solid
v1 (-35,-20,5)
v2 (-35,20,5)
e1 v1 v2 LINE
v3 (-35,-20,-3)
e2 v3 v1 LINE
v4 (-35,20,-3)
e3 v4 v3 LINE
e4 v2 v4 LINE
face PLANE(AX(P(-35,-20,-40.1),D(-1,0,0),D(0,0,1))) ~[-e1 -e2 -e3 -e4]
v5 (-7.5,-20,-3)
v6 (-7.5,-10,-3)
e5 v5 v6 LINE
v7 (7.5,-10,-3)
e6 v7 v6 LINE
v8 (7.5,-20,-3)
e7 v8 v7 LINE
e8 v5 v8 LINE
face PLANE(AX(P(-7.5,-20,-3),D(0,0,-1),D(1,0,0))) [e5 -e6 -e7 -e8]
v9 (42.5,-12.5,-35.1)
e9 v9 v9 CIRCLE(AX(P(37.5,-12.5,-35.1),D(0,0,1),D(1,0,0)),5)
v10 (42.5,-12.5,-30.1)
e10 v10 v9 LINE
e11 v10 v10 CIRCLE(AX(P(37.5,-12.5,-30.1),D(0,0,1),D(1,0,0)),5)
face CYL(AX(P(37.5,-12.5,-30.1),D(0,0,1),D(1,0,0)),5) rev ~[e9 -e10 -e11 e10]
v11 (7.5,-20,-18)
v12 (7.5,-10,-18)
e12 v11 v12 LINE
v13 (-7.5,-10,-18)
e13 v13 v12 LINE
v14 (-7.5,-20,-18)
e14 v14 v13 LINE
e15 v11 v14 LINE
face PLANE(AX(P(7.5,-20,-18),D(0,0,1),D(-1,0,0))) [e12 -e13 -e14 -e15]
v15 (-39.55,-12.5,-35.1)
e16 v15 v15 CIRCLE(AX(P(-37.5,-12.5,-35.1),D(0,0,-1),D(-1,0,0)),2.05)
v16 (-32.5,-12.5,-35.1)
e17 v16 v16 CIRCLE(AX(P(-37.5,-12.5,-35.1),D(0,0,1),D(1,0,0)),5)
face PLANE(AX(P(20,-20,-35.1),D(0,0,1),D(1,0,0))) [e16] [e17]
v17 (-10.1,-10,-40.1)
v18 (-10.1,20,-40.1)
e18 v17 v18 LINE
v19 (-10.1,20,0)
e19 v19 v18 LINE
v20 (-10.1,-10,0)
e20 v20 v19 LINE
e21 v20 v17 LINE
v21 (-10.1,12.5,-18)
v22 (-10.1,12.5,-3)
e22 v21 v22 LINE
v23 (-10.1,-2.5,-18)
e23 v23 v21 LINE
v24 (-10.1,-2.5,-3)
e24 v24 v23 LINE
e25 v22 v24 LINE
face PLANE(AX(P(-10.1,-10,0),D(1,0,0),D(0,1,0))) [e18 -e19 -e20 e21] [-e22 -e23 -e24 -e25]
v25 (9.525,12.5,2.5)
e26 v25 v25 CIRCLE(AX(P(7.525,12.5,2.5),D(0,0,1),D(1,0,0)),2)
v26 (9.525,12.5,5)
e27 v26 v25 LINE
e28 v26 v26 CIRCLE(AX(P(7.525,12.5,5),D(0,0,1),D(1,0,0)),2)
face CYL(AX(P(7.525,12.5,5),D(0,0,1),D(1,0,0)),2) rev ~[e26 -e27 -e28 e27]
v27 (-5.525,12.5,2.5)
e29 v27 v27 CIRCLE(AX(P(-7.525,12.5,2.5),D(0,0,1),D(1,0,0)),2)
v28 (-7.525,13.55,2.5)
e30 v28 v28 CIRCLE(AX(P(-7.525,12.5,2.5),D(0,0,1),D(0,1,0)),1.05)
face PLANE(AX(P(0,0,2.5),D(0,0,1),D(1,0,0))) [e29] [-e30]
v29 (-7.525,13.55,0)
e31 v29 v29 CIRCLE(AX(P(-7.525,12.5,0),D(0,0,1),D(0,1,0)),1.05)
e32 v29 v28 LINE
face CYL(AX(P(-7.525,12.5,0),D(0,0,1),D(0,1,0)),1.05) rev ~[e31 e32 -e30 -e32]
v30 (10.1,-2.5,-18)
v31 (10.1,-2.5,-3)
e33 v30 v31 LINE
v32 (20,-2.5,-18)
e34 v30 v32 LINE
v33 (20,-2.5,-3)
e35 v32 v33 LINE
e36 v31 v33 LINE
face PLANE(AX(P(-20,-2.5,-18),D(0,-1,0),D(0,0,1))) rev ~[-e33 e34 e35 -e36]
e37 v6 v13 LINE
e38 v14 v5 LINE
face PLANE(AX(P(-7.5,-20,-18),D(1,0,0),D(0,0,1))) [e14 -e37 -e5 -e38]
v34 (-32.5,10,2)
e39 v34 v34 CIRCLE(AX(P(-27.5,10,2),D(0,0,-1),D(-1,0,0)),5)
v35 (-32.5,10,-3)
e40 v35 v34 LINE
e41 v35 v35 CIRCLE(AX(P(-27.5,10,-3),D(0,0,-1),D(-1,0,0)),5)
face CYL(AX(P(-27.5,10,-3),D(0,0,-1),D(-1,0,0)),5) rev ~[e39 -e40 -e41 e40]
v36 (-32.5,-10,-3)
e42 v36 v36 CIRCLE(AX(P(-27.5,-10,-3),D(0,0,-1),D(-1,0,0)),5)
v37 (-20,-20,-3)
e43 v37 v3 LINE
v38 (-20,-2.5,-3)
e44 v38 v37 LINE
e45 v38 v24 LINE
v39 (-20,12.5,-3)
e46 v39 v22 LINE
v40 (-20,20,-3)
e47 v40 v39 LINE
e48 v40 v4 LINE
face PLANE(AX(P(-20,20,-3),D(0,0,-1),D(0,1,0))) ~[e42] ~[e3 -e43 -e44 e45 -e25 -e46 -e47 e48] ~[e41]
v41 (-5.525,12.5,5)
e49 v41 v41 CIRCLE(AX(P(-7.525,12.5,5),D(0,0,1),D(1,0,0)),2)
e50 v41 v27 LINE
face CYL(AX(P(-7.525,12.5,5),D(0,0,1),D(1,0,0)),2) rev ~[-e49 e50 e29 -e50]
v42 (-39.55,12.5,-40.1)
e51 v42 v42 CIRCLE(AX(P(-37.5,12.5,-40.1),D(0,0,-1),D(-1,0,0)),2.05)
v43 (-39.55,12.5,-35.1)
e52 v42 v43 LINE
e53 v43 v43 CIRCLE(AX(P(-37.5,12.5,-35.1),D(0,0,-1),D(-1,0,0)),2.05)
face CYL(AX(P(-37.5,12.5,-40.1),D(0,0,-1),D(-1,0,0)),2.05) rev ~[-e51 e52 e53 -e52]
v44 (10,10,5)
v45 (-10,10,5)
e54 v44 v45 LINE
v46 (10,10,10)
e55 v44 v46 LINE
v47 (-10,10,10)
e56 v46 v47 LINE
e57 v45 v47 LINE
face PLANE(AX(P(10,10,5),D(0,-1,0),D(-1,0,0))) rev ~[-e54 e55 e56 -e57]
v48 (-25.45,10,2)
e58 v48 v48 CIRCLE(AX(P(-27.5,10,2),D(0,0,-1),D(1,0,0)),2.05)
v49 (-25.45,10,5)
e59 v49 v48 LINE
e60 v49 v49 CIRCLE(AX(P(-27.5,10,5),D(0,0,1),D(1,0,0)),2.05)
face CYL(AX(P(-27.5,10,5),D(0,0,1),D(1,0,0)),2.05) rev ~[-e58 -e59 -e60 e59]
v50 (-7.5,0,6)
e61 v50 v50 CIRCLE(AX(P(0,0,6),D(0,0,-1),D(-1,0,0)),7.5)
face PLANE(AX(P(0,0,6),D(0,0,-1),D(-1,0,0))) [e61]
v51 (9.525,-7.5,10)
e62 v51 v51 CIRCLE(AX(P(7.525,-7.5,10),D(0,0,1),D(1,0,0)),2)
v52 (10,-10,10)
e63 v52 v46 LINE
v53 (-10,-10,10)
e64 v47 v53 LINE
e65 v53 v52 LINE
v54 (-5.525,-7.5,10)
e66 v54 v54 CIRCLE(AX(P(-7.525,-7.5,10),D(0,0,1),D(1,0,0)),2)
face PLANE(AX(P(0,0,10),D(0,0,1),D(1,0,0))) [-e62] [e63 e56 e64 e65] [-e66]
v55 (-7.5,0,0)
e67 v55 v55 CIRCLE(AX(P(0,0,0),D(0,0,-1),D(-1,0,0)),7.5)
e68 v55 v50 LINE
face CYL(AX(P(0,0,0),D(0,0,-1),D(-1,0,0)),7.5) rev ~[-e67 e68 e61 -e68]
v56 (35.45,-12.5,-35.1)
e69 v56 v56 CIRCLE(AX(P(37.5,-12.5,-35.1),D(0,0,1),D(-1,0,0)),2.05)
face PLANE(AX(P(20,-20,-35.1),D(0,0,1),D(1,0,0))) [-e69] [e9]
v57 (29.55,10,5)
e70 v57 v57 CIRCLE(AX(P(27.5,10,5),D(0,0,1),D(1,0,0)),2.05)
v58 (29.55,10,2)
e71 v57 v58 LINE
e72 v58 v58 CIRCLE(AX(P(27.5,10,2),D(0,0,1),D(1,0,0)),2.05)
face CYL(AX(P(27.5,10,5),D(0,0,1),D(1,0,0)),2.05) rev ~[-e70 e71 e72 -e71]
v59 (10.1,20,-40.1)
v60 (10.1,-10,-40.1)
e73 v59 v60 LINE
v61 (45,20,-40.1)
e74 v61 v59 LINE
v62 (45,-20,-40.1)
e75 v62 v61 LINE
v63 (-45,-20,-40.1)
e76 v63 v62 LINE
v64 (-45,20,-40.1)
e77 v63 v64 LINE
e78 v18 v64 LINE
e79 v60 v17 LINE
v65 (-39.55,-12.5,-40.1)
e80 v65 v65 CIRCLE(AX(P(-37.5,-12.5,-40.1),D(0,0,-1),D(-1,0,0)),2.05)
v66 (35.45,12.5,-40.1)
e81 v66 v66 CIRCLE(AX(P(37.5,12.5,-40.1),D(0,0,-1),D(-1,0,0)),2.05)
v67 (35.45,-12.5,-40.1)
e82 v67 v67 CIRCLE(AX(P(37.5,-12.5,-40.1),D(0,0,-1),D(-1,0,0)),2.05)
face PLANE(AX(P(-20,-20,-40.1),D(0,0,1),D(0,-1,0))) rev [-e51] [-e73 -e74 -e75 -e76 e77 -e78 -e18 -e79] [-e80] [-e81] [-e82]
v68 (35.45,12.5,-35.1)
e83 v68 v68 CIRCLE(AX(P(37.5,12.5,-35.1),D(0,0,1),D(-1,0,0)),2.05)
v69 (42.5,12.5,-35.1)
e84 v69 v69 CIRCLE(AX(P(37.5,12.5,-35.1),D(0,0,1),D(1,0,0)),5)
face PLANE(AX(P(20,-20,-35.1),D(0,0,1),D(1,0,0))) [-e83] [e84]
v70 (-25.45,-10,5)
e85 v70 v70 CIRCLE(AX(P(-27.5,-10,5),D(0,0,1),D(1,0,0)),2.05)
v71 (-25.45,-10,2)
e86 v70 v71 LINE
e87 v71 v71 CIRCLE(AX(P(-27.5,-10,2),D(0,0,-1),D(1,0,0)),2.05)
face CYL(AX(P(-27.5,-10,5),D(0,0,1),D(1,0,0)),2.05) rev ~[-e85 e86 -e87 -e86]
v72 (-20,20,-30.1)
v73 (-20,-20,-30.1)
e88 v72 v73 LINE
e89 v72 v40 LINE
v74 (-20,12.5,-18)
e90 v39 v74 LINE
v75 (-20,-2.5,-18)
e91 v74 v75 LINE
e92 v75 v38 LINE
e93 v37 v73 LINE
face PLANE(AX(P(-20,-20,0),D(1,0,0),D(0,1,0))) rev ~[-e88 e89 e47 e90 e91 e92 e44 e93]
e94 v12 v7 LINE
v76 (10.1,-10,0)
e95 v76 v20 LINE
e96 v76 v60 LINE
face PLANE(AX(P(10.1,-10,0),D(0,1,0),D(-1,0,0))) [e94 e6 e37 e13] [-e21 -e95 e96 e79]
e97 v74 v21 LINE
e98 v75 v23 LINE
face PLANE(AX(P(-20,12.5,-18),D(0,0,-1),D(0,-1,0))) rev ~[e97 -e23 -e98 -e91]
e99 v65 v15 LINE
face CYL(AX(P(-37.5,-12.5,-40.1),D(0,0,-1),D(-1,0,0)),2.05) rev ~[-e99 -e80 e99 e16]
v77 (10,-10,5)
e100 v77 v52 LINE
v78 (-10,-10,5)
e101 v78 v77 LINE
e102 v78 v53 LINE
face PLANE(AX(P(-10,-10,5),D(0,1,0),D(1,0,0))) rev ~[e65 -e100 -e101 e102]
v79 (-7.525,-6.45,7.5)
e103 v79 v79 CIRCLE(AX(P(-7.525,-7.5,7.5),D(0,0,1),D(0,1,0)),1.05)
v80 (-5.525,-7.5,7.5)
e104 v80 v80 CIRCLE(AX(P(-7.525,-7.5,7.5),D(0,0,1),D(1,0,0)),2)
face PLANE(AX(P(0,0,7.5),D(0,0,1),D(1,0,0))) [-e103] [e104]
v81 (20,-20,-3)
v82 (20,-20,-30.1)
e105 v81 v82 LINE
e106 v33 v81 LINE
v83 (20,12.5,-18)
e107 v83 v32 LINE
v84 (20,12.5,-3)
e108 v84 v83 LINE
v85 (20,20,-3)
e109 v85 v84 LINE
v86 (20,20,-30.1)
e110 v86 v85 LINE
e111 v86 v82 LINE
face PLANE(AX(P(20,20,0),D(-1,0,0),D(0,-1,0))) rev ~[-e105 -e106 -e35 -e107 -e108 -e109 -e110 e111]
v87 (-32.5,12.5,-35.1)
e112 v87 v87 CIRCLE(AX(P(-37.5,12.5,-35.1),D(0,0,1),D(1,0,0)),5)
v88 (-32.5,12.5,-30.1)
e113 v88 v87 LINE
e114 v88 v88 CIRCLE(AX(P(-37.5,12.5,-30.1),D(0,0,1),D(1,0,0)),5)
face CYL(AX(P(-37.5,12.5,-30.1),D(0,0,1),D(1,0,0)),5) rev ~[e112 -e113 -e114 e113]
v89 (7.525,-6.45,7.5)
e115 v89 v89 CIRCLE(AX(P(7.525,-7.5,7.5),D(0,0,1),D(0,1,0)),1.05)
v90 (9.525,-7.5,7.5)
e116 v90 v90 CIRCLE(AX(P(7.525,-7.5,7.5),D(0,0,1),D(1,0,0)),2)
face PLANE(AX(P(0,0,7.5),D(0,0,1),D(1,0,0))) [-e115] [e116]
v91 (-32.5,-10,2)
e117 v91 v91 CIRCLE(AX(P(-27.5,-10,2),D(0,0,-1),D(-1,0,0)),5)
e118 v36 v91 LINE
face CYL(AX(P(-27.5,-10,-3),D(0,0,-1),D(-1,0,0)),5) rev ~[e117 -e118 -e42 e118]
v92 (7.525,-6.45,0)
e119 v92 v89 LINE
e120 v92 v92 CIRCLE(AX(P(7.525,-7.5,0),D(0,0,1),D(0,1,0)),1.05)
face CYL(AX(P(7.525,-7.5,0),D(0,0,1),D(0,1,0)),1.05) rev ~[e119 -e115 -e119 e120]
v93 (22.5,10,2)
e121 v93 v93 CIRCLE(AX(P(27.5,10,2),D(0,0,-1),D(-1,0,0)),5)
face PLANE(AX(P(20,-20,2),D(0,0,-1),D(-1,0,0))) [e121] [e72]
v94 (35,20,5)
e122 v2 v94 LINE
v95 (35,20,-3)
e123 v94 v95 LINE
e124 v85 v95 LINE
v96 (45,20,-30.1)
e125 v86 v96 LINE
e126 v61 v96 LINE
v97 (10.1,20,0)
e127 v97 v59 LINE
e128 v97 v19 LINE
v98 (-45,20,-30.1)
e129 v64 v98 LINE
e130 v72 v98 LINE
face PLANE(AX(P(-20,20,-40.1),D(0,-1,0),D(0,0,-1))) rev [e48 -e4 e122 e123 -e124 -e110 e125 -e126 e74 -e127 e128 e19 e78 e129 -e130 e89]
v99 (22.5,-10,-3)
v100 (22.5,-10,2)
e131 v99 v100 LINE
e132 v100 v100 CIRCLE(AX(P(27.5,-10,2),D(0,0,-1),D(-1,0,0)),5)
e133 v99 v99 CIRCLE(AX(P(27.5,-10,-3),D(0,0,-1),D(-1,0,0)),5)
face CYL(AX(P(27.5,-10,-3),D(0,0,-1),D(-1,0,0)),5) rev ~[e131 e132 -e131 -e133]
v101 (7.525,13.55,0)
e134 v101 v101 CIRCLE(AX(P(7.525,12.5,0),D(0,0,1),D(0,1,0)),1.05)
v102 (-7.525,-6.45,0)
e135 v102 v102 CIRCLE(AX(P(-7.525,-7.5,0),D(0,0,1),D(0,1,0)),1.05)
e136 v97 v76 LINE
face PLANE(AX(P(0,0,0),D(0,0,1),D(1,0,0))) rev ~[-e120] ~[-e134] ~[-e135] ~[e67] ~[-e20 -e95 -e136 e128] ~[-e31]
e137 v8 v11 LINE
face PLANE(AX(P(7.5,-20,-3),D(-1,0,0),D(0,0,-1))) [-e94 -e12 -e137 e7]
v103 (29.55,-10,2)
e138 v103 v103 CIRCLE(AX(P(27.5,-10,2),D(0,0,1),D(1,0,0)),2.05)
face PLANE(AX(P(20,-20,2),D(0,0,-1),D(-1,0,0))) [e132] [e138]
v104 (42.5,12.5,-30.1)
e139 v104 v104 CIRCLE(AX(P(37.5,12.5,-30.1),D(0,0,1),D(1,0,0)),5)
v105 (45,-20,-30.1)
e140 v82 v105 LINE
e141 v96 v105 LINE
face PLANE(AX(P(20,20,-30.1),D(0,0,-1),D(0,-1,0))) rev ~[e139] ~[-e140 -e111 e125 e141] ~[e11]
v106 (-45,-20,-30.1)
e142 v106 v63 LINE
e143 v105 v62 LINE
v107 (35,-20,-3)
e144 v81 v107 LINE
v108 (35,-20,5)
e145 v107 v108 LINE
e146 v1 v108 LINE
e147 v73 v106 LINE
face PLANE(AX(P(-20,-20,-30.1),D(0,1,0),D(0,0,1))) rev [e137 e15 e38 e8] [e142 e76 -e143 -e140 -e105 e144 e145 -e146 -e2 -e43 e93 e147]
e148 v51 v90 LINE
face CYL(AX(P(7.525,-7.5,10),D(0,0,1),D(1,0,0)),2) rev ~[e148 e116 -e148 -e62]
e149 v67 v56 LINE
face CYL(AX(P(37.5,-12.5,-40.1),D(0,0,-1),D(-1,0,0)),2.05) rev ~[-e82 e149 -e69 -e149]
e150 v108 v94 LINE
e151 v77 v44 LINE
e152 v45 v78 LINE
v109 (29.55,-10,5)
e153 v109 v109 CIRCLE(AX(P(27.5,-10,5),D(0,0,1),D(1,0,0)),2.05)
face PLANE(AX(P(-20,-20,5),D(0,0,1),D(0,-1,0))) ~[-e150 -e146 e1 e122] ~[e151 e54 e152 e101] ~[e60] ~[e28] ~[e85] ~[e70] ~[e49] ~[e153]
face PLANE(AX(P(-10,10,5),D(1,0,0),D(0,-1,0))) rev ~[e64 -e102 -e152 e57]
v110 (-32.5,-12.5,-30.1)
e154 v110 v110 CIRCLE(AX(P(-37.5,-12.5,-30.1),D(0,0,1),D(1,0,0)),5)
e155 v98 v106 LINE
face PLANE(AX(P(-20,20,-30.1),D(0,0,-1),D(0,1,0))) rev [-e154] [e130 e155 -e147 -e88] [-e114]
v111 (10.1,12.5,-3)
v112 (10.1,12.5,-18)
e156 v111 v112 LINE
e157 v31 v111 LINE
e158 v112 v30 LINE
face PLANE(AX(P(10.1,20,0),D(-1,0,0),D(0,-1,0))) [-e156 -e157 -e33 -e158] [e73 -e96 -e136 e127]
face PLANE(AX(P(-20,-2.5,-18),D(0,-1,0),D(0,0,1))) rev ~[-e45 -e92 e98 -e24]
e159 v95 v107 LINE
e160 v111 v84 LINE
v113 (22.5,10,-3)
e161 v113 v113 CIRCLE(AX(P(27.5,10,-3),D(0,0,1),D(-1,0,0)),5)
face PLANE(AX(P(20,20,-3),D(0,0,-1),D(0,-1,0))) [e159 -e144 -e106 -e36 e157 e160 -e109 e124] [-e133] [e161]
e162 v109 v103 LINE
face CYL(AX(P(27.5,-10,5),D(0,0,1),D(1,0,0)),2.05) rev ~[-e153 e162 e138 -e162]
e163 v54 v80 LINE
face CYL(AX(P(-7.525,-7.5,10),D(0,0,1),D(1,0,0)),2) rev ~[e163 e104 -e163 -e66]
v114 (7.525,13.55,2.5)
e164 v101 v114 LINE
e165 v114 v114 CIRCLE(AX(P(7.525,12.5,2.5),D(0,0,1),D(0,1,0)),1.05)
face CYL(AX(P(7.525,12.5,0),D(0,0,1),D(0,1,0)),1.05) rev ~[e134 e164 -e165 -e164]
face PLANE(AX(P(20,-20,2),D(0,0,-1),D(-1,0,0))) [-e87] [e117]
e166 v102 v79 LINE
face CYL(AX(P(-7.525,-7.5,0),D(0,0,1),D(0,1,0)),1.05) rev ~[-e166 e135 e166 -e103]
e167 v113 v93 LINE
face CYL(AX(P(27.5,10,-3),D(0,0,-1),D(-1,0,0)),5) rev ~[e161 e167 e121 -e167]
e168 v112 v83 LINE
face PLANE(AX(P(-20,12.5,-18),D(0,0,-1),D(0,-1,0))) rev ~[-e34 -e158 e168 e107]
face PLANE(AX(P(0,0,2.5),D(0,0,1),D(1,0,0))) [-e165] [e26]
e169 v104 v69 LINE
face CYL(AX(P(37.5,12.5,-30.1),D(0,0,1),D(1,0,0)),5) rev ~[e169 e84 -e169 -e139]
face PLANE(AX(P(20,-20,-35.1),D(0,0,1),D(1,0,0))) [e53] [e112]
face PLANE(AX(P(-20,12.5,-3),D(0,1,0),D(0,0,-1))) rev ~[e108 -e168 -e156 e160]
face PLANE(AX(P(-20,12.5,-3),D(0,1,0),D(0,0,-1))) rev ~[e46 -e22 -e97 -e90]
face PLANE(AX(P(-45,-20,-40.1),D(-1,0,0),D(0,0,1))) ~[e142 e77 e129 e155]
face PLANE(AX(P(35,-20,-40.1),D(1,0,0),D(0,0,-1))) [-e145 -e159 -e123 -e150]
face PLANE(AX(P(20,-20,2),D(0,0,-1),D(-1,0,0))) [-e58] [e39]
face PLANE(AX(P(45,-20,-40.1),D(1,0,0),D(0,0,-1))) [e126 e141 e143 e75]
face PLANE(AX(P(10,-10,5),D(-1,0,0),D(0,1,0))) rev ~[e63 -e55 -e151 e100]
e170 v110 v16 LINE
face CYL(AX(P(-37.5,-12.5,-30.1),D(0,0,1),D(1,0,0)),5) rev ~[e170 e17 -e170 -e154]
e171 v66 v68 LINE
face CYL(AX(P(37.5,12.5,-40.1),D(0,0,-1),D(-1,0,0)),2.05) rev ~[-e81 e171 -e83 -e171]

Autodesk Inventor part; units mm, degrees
ref_plane "YZ Plane" through (0, 0, 0) normal (1, 0, 0) x (0, 1, 0)
ref_plane "XZ Plane" through (0, 0, 0) normal (0, 1, 0) x (-1, 0, 0)
ref_plane "XY Plane" through (0, 0, 0) normal (0, 0, 1) x (1, 0, 0)
sketch "Sketch1" plane through (0, 0, 0) normal (0, 0, 1) x (1, 0, 0)
  line L0 (-20, -20) -> (20, -20)
  line L1 (20, -20) -> (20, 20)
  line L2 (20, 20) -> (-20, 20)
  line L3 (-20, 20) -> (-20, -20)
  line L4 (-20, -20) -> (20, 20) construction
  line L5 (20, -20) -> (-20, 20) construction
  point P0 (0, 0)
  dimension "d0" = 40
  dimension "d1" = 40
extrude "Extrusion1" add sketch "Sketch1" along normal blind 5
sketch "Sketch2" plane through (0, 0, 5) normal (0, 0, 1) x (1, 0, 0)
  line L0 (-10, -10) -> (10, -10)
  line L1 (10, -10) -> (10, 10)
  line L2 (10, 10) -> (-10, 10)
  line L3 (-10, 10) -> (-10, -10)
  line L4 (-10, -10) -> (10, 10) construction
  line L5 (10, -10) -> (-10, 10) construction
  point P0 (0, 0)
  dimension "d4" = 20
  dimension "d5" = 20
extrude "Extrusion2" add sketch "Sketch2" along normal blind 5
sketch "Sketch3" plane through (0, 0, 0) normal (0, 0, -1) x (-1, 0, 0)
  line L0 (-20, -20) -> (20, -20)
  line L1 (20, -20) -> (20, 20)
  line L2 (20, 20) -> (-20, 20)
  line L3 (-20, 20) -> (-20, -20)
  line L4 (-20, -20) -> (20, 20) construction
  line L5 (20, -20) -> (-20, 20) construction
  line L6 (-10.1, -10) -> (10.1, -10)
  line L7 (10.1, -10) -> (10.1, 20)
  line L8 (10.1, 20) -> (-10.1, 20)
  line L9 (-10.1, 20) -> (-10.1, -10)
  line L10 (-10.1, -10) -> (10.1, 20) construction
  line L11 (10.1, -10) -> (-10.1, 20) construction
  point P0 (0, 0)
  point P1 (0, 5)
  dimension "d8" = 40
  dimension "d9" = 40
  dimension "d10" = 20.2
  dimension "d11" = 30
  dimension "d55" = 20
extrude "Extrusion3" add sketch "Sketch3" along normal blind 40.1 contours L3 L2 L9 L6 L7 L1 L0
sketch "Sketch4" plane through (0, 0, 0) normal (0, 0, -1) x (-1, 0, 0)
  circle A0 centre (0, 0) radius 7.5
  dimension "d14" = 15
extrude "Extrusion4" cut sketch "Sketch4" against normal blind 6
sketch "Sketch6" plane through (20, -20, -40.1) normal (1, 0, 0) x (0, 0, -1)
  line L0 (-45.1, 40) -> (-37.1, 40)
  line L1 (-37.1, 40) -> (-37.1, 0)
  line L2 (-37.1, 0) -> (-45.1, 0)
  line L3 (-45.1, 0) -> (-45.1, 40)
  line L4 (-45.1, 40) -> (-37.1, 0) construction
  line L5 (-37.1, 40) -> (-45.1, 0) construction
  line L6 (0, 40) -> (-45.1, 40) projected
  line L7 (-45.1, 0) -> (0, 0) projected
  line L8 (-45.1, 0) -> (-45.1, 40) projected
  point P0 (-40.1, 20)
  point P1 (-41.1, 20)
  point P2 (-40.1, 40)
  point P3 (-45.1, 50)
  dimension "d19" = 8
extrude "Extrusion6" add sketch "Sketch6" along normal blind 15
mirror "Mirror1" about plane through (0, 0, 0) normal (1, 0, 0) of "Extrusion6"
sketch "Sketch7" plane through (0, 0, 5) normal (0, 0, 1) x (1, 0, 0)
  circle A0 centre (27.5, 10) radius 2.05
  circle A1 centre (27.5, -10) radius 2.05
  circle A2 centre (-27.5, -10) radius 2.05
  circle A3 centre (-27.5, 10) radius 2.05
  line L0 (35, 20) -> (35, -20) projected
  line L1 (-35, 20) -> (-35, -20) projected
  line L2 (35, -20) -> (-35, -20) projected
  line L3 (-35, 20) -> (35, 20) projected
  line L4 (-20, 20) -> (-35, 20) projected
  point P0 (0, 0)
  point P1 (20, 20)
  dimension "d22" = 4.1
  dimension "d23" = 4.1
  dimension "d24" = 4.1
  dimension "d25" = 4.1
  dimension "d26" = 7.5
  dimension "d27" = 7.5
  dimension "d28" = 7.5
  dimension "d29" = 7.5
  dimension "d30" = 10
  dimension "d31" = 10
  dimension "d32" = 10
  dimension "d33" = 10
extrude "Extrusion7" cut sketch "Sketch7" against normal through all contours A0 | A1 | A2 | A3
sketch "Sketch9" plane through (20, -20, -3) normal (0, 0, -1) x (-1, 0, 0)
  circle A0 centre (-7.5, 30) radius 2.05 projected
  circle A1 centre (-7.5, 10) radius 2.05 projected
  circle A2 centre (47.5, 30) radius 2.05 projected
  circle A3 centre (47.5, 10) radius 2.05 projected
  circle A4 centre (-7.5, 30) radius 5
  circle A5 centre (-7.5, 10) radius 5
  circle A6 centre (47.5, 30) radius 5
  circle A7 centre (47.5, 10) radius 5
  point P0 (20, 20)
  dimension "d39" = 10
  dimension "d40" = 10
  dimension "d41" = 10
  dimension "d42" = 10
extrude "Extrusion8" cut sketch "Sketch9" against normal blind 5 contours A0 | A1 | A4 | A5 | A6 | A7
sketch "Sketch10" plane through (-20, -20, -40.1) normal (-1, 0, 0) x (0, 0, 1)
  line L0 (22.1, 17.5) -> (37.1, 17.5)
  line L1 (37.1, 17.5) -> (37.1, 32.5)
  line L2 (37.1, 32.5) -> (22.1, 32.5)
  line L3 (22.1, 32.5) -> (22.1, 17.5)
  line L4 (22.1, 17.5) -> (37.1, 32.5) construction
  line L5 (37.1, 17.5) -> (22.1, 32.5) construction
  line L6 (37.1, 0) -> (37.1, 40) projected
  line L7 (40.1, 10) -> (0, 10) projected
  point P0 (40.1, 20)
  point P1 (29.6, 25)
  dimension "d45" = 15
  dimension "d46" = 15
  dimension "d47" = 7.5
extrude "Extrusion9" cut sketch "Sketch10" against normal through all
sketch "Sketch11" plane through (-20, -20, -40.1) normal (0, -1, 0) x (1, 0, 0)
  line L0 (27.5, 22.1) -> (12.5, 22.1)
  line L1 (12.5, 22.1) -> (12.5, 37.1)
  line L2 (12.5, 37.1) -> (27.5, 37.1)
  line L3 (27.5, 37.1) -> (27.5, 22.1)
  line L4 (27.5, 22.1) -> (12.5, 37.1) construction
  line L5 (12.5, 22.1) -> (27.5, 37.1) construction
  line L6 (0, 37.1) -> (-15, 37.1) projected
  line L7 (0, 0) -> (0, 37.1) projected
  point P0 (20, 40.1)
  point P1 (20, 29.6)
  dimension "d50" = 15
  dimension "d51" = 15
  dimension "d52" = 20
extrude "Extrusion10" cut sketch "Sketch11" against normal through all
sketch "Sketch12" plane through (0, 0, 0) normal (0, 0, -1) x (-1, 0, 0)
  ellipse E0 centre (7.952, -7.882) end of major axis (8.818, -8.748) minor radius 1 (8.1756, -9) -> (9.07, -8.1056) ccw projected
  line L0 (-8.1756, -9) -> (8.1756, -9) projected
  ellipse E1 centre (-7.952, -7.882) end of major axis (-8.818, -8.748) minor radius 1 (-9.07, -8.1056) -> (-8.1756, -9) ccw projected
  line L1 (-9.07, 28.2056) -> (-9.07, -8.1056) projected
  ellipse E2 centre (-7.952, 27.982) end of major axis (-8.818, 28.848) minor radius 1 (-8.1756, 29.1) -> (-9.07, 28.2056) ccw projected
  line L2 (8.1756, 29.1) -> (-8.1756, 29.1) projected
  ellipse E3 centre (7.952, 27.982) end of major axis (8.818, 28.848) minor radius 1 (9.07, 28.2056) -> (8.1756, 29.1) ccw projected
  line L3 (9.07, -8.1056) -> (9.07, 28.2056) projected
  circle A0 centre (-7.525, 27.6) radius 0.7835 projected
  circle A1 centre (7.525, 27.6) radius 0.7835 projected
  circle A2 centre (-7.525, 12.5) radius 0.7835 projected
  circle A3 centre (7.525, 12.5) radius 0.7835 projected
  circle A4 centre (-7.525, -7.5) radius 0.7835 projected
  circle A5 centre (7.525, -7.5) radius 0.7835 projected
  circle A6 centre (0, 0) radius 6.4 projected
  point P0 (0, 0)
hole "Hole1" at (-7.525, -7.5, 0) at (-7.525, 12.5, 0) at (7.525, 12.5, 0) at (7.525, -7.5, 0) direction (0, 0, 1) diameter 2.1 end through all
sketch "Sketch13" plane through (0, 0, 5) normal (0, 0, 1) x (1, 0, 0)
  circle A0 centre (-7.525, 12.5) radius 1.05 projected
  circle A1 centre (7.525, 12.5) radius 1.05 projected
  circle A2 centre (-7.525, 12.5) radius 2
  circle A3 centre (7.525, 12.5) radius 2
  point P0 (0, 0)
  dimension "d63" = 4
  dimension "d64" = 4
sketch "Sketch14" plane through (0, 0, 10) normal (0, 0, 1) x (1, 0, 0)
  circle A0 centre (-7.525, -7.5) radius 1.05 projected
  circle A1 centre (7.525, -7.5) radius 1.05 projected
  circle A2 centre (-7.525, -7.5) radius 2
  circle A3 centre (7.525, -7.5) radius 2
  point P0 (0, 0)
  dimension "d65" = 4
  dimension "d66" = 4
extrude "Extrusion11" cut sketch "Sketch13" against normal blind 2.5 contours A0 | A1 | A2 | A3
extrude "Extrusion12" cut sketch "Sketch14" against normal blind 2.5 contours A0 | A1 | A2 | A3
sketch "Sketch15" plane through (20, -20, -40.1) normal (1, 0, 0) x (0, 0, -1)
  line L0 (-10, 0) -> (0, 0)
  line L1 (0, 0) -> (0, 40)
  line L2 (0, 40) -> (-10, 40)
  line L3 (-10, 40) -> (-10, 0)
  line L4 (-10, 0) -> (0, 40) construction
  line L5 (0, 0) -> (-10, 40) construction
  line L6 (0, 40) -> (0, 0) projected
  line L7 (0, 40) -> (-37.1, 40) projected
  line L8 (-37.1, 0) -> (0, 0) projected
  point P0 (-40.1, 20)
  point P1 (-5, 20)
  dimension "d71" = 10
extrude "Extrusion13" add sketch "Sketch15" along normal blind 25
mirror "Mirror2" about plane through (0, 0, 0) normal (1, 0, 0) of "Extrusion13"
sketch "Sketch16" plane through (0, 0, -40.1) normal (0, 0, -1) x (-1, 0, 0)
  circle A0 centre (37.5, 12.5) radius 2.05
  line L0 (45, -20) -> (45, 20) projected
  line L1 (10.1, 20) -> (45, 20) projected
  circle A1 centre (37.5, -12.5) radius 2.05
  circle A2 centre (-37.5, 12.5) radius 2.05
  circle A3 centre (-37.5, -12.5) radius 2.05
  line L2 (45, -20) -> (-45, -20) projected
  line L3 (-45, -20) -> (-45, 20) projected
  line L4 (-10.1, 20) -> (-45, 20) projected
  point P0 (0, 0)
  dimension "d74" = 4.1
  dimension "d75" = 7.5
  dimension "d76" = 7.5
  dimension "d77" = 4.1
  dimension "d78" = 4.1
  dimension "d79" = 4.1
  dimension "d80" = 7.5
  dimension "d81" = 7.5
  dimension "d82" = 7.5
  dimension "d83" = 7.5
  dimension "d84" = 7.5
  dimension "d85" = 7.5
extrude "Extrusion14" cut sketch "Sketch16" against normal through all
sketch "Sketch17" plane through (20, -20, -30.1) normal (0, 0, 1) x (1, 0, 0)
  circle A0 centre (17.5, 7.5) radius 2.05 projected
  circle A1 centre (17.5, 32.5) radius 2.05 projected
  circle A2 centre (-57.5, 7.5) radius 2.05 projected
  circle A3 centre (-57.5, 32.5) radius 2.05 projected
  circle A4 centre (17.5, 32.5) radius 5
  circle A5 centre (17.5, 7.5) radius 5
  circle A6 centre (-57.5, 32.5) radius 5
  circle A7 centre (-57.5, 7.5) radius 5
  point P0 (-20, 20)
  dimension "d88" = 10
  dimension "d89" = 10
  dimension "d90" = 10
  dimension "d91" = 10
extrude "Extrusion15" cut sketch "Sketch17" against normal blind 5
ref_plane "Work Plane1" through (0, 0, 0) normal (1, 0, 0) x (0, 1, 0)
properties part number "motor1_bracket" material "ABS Plastic"
